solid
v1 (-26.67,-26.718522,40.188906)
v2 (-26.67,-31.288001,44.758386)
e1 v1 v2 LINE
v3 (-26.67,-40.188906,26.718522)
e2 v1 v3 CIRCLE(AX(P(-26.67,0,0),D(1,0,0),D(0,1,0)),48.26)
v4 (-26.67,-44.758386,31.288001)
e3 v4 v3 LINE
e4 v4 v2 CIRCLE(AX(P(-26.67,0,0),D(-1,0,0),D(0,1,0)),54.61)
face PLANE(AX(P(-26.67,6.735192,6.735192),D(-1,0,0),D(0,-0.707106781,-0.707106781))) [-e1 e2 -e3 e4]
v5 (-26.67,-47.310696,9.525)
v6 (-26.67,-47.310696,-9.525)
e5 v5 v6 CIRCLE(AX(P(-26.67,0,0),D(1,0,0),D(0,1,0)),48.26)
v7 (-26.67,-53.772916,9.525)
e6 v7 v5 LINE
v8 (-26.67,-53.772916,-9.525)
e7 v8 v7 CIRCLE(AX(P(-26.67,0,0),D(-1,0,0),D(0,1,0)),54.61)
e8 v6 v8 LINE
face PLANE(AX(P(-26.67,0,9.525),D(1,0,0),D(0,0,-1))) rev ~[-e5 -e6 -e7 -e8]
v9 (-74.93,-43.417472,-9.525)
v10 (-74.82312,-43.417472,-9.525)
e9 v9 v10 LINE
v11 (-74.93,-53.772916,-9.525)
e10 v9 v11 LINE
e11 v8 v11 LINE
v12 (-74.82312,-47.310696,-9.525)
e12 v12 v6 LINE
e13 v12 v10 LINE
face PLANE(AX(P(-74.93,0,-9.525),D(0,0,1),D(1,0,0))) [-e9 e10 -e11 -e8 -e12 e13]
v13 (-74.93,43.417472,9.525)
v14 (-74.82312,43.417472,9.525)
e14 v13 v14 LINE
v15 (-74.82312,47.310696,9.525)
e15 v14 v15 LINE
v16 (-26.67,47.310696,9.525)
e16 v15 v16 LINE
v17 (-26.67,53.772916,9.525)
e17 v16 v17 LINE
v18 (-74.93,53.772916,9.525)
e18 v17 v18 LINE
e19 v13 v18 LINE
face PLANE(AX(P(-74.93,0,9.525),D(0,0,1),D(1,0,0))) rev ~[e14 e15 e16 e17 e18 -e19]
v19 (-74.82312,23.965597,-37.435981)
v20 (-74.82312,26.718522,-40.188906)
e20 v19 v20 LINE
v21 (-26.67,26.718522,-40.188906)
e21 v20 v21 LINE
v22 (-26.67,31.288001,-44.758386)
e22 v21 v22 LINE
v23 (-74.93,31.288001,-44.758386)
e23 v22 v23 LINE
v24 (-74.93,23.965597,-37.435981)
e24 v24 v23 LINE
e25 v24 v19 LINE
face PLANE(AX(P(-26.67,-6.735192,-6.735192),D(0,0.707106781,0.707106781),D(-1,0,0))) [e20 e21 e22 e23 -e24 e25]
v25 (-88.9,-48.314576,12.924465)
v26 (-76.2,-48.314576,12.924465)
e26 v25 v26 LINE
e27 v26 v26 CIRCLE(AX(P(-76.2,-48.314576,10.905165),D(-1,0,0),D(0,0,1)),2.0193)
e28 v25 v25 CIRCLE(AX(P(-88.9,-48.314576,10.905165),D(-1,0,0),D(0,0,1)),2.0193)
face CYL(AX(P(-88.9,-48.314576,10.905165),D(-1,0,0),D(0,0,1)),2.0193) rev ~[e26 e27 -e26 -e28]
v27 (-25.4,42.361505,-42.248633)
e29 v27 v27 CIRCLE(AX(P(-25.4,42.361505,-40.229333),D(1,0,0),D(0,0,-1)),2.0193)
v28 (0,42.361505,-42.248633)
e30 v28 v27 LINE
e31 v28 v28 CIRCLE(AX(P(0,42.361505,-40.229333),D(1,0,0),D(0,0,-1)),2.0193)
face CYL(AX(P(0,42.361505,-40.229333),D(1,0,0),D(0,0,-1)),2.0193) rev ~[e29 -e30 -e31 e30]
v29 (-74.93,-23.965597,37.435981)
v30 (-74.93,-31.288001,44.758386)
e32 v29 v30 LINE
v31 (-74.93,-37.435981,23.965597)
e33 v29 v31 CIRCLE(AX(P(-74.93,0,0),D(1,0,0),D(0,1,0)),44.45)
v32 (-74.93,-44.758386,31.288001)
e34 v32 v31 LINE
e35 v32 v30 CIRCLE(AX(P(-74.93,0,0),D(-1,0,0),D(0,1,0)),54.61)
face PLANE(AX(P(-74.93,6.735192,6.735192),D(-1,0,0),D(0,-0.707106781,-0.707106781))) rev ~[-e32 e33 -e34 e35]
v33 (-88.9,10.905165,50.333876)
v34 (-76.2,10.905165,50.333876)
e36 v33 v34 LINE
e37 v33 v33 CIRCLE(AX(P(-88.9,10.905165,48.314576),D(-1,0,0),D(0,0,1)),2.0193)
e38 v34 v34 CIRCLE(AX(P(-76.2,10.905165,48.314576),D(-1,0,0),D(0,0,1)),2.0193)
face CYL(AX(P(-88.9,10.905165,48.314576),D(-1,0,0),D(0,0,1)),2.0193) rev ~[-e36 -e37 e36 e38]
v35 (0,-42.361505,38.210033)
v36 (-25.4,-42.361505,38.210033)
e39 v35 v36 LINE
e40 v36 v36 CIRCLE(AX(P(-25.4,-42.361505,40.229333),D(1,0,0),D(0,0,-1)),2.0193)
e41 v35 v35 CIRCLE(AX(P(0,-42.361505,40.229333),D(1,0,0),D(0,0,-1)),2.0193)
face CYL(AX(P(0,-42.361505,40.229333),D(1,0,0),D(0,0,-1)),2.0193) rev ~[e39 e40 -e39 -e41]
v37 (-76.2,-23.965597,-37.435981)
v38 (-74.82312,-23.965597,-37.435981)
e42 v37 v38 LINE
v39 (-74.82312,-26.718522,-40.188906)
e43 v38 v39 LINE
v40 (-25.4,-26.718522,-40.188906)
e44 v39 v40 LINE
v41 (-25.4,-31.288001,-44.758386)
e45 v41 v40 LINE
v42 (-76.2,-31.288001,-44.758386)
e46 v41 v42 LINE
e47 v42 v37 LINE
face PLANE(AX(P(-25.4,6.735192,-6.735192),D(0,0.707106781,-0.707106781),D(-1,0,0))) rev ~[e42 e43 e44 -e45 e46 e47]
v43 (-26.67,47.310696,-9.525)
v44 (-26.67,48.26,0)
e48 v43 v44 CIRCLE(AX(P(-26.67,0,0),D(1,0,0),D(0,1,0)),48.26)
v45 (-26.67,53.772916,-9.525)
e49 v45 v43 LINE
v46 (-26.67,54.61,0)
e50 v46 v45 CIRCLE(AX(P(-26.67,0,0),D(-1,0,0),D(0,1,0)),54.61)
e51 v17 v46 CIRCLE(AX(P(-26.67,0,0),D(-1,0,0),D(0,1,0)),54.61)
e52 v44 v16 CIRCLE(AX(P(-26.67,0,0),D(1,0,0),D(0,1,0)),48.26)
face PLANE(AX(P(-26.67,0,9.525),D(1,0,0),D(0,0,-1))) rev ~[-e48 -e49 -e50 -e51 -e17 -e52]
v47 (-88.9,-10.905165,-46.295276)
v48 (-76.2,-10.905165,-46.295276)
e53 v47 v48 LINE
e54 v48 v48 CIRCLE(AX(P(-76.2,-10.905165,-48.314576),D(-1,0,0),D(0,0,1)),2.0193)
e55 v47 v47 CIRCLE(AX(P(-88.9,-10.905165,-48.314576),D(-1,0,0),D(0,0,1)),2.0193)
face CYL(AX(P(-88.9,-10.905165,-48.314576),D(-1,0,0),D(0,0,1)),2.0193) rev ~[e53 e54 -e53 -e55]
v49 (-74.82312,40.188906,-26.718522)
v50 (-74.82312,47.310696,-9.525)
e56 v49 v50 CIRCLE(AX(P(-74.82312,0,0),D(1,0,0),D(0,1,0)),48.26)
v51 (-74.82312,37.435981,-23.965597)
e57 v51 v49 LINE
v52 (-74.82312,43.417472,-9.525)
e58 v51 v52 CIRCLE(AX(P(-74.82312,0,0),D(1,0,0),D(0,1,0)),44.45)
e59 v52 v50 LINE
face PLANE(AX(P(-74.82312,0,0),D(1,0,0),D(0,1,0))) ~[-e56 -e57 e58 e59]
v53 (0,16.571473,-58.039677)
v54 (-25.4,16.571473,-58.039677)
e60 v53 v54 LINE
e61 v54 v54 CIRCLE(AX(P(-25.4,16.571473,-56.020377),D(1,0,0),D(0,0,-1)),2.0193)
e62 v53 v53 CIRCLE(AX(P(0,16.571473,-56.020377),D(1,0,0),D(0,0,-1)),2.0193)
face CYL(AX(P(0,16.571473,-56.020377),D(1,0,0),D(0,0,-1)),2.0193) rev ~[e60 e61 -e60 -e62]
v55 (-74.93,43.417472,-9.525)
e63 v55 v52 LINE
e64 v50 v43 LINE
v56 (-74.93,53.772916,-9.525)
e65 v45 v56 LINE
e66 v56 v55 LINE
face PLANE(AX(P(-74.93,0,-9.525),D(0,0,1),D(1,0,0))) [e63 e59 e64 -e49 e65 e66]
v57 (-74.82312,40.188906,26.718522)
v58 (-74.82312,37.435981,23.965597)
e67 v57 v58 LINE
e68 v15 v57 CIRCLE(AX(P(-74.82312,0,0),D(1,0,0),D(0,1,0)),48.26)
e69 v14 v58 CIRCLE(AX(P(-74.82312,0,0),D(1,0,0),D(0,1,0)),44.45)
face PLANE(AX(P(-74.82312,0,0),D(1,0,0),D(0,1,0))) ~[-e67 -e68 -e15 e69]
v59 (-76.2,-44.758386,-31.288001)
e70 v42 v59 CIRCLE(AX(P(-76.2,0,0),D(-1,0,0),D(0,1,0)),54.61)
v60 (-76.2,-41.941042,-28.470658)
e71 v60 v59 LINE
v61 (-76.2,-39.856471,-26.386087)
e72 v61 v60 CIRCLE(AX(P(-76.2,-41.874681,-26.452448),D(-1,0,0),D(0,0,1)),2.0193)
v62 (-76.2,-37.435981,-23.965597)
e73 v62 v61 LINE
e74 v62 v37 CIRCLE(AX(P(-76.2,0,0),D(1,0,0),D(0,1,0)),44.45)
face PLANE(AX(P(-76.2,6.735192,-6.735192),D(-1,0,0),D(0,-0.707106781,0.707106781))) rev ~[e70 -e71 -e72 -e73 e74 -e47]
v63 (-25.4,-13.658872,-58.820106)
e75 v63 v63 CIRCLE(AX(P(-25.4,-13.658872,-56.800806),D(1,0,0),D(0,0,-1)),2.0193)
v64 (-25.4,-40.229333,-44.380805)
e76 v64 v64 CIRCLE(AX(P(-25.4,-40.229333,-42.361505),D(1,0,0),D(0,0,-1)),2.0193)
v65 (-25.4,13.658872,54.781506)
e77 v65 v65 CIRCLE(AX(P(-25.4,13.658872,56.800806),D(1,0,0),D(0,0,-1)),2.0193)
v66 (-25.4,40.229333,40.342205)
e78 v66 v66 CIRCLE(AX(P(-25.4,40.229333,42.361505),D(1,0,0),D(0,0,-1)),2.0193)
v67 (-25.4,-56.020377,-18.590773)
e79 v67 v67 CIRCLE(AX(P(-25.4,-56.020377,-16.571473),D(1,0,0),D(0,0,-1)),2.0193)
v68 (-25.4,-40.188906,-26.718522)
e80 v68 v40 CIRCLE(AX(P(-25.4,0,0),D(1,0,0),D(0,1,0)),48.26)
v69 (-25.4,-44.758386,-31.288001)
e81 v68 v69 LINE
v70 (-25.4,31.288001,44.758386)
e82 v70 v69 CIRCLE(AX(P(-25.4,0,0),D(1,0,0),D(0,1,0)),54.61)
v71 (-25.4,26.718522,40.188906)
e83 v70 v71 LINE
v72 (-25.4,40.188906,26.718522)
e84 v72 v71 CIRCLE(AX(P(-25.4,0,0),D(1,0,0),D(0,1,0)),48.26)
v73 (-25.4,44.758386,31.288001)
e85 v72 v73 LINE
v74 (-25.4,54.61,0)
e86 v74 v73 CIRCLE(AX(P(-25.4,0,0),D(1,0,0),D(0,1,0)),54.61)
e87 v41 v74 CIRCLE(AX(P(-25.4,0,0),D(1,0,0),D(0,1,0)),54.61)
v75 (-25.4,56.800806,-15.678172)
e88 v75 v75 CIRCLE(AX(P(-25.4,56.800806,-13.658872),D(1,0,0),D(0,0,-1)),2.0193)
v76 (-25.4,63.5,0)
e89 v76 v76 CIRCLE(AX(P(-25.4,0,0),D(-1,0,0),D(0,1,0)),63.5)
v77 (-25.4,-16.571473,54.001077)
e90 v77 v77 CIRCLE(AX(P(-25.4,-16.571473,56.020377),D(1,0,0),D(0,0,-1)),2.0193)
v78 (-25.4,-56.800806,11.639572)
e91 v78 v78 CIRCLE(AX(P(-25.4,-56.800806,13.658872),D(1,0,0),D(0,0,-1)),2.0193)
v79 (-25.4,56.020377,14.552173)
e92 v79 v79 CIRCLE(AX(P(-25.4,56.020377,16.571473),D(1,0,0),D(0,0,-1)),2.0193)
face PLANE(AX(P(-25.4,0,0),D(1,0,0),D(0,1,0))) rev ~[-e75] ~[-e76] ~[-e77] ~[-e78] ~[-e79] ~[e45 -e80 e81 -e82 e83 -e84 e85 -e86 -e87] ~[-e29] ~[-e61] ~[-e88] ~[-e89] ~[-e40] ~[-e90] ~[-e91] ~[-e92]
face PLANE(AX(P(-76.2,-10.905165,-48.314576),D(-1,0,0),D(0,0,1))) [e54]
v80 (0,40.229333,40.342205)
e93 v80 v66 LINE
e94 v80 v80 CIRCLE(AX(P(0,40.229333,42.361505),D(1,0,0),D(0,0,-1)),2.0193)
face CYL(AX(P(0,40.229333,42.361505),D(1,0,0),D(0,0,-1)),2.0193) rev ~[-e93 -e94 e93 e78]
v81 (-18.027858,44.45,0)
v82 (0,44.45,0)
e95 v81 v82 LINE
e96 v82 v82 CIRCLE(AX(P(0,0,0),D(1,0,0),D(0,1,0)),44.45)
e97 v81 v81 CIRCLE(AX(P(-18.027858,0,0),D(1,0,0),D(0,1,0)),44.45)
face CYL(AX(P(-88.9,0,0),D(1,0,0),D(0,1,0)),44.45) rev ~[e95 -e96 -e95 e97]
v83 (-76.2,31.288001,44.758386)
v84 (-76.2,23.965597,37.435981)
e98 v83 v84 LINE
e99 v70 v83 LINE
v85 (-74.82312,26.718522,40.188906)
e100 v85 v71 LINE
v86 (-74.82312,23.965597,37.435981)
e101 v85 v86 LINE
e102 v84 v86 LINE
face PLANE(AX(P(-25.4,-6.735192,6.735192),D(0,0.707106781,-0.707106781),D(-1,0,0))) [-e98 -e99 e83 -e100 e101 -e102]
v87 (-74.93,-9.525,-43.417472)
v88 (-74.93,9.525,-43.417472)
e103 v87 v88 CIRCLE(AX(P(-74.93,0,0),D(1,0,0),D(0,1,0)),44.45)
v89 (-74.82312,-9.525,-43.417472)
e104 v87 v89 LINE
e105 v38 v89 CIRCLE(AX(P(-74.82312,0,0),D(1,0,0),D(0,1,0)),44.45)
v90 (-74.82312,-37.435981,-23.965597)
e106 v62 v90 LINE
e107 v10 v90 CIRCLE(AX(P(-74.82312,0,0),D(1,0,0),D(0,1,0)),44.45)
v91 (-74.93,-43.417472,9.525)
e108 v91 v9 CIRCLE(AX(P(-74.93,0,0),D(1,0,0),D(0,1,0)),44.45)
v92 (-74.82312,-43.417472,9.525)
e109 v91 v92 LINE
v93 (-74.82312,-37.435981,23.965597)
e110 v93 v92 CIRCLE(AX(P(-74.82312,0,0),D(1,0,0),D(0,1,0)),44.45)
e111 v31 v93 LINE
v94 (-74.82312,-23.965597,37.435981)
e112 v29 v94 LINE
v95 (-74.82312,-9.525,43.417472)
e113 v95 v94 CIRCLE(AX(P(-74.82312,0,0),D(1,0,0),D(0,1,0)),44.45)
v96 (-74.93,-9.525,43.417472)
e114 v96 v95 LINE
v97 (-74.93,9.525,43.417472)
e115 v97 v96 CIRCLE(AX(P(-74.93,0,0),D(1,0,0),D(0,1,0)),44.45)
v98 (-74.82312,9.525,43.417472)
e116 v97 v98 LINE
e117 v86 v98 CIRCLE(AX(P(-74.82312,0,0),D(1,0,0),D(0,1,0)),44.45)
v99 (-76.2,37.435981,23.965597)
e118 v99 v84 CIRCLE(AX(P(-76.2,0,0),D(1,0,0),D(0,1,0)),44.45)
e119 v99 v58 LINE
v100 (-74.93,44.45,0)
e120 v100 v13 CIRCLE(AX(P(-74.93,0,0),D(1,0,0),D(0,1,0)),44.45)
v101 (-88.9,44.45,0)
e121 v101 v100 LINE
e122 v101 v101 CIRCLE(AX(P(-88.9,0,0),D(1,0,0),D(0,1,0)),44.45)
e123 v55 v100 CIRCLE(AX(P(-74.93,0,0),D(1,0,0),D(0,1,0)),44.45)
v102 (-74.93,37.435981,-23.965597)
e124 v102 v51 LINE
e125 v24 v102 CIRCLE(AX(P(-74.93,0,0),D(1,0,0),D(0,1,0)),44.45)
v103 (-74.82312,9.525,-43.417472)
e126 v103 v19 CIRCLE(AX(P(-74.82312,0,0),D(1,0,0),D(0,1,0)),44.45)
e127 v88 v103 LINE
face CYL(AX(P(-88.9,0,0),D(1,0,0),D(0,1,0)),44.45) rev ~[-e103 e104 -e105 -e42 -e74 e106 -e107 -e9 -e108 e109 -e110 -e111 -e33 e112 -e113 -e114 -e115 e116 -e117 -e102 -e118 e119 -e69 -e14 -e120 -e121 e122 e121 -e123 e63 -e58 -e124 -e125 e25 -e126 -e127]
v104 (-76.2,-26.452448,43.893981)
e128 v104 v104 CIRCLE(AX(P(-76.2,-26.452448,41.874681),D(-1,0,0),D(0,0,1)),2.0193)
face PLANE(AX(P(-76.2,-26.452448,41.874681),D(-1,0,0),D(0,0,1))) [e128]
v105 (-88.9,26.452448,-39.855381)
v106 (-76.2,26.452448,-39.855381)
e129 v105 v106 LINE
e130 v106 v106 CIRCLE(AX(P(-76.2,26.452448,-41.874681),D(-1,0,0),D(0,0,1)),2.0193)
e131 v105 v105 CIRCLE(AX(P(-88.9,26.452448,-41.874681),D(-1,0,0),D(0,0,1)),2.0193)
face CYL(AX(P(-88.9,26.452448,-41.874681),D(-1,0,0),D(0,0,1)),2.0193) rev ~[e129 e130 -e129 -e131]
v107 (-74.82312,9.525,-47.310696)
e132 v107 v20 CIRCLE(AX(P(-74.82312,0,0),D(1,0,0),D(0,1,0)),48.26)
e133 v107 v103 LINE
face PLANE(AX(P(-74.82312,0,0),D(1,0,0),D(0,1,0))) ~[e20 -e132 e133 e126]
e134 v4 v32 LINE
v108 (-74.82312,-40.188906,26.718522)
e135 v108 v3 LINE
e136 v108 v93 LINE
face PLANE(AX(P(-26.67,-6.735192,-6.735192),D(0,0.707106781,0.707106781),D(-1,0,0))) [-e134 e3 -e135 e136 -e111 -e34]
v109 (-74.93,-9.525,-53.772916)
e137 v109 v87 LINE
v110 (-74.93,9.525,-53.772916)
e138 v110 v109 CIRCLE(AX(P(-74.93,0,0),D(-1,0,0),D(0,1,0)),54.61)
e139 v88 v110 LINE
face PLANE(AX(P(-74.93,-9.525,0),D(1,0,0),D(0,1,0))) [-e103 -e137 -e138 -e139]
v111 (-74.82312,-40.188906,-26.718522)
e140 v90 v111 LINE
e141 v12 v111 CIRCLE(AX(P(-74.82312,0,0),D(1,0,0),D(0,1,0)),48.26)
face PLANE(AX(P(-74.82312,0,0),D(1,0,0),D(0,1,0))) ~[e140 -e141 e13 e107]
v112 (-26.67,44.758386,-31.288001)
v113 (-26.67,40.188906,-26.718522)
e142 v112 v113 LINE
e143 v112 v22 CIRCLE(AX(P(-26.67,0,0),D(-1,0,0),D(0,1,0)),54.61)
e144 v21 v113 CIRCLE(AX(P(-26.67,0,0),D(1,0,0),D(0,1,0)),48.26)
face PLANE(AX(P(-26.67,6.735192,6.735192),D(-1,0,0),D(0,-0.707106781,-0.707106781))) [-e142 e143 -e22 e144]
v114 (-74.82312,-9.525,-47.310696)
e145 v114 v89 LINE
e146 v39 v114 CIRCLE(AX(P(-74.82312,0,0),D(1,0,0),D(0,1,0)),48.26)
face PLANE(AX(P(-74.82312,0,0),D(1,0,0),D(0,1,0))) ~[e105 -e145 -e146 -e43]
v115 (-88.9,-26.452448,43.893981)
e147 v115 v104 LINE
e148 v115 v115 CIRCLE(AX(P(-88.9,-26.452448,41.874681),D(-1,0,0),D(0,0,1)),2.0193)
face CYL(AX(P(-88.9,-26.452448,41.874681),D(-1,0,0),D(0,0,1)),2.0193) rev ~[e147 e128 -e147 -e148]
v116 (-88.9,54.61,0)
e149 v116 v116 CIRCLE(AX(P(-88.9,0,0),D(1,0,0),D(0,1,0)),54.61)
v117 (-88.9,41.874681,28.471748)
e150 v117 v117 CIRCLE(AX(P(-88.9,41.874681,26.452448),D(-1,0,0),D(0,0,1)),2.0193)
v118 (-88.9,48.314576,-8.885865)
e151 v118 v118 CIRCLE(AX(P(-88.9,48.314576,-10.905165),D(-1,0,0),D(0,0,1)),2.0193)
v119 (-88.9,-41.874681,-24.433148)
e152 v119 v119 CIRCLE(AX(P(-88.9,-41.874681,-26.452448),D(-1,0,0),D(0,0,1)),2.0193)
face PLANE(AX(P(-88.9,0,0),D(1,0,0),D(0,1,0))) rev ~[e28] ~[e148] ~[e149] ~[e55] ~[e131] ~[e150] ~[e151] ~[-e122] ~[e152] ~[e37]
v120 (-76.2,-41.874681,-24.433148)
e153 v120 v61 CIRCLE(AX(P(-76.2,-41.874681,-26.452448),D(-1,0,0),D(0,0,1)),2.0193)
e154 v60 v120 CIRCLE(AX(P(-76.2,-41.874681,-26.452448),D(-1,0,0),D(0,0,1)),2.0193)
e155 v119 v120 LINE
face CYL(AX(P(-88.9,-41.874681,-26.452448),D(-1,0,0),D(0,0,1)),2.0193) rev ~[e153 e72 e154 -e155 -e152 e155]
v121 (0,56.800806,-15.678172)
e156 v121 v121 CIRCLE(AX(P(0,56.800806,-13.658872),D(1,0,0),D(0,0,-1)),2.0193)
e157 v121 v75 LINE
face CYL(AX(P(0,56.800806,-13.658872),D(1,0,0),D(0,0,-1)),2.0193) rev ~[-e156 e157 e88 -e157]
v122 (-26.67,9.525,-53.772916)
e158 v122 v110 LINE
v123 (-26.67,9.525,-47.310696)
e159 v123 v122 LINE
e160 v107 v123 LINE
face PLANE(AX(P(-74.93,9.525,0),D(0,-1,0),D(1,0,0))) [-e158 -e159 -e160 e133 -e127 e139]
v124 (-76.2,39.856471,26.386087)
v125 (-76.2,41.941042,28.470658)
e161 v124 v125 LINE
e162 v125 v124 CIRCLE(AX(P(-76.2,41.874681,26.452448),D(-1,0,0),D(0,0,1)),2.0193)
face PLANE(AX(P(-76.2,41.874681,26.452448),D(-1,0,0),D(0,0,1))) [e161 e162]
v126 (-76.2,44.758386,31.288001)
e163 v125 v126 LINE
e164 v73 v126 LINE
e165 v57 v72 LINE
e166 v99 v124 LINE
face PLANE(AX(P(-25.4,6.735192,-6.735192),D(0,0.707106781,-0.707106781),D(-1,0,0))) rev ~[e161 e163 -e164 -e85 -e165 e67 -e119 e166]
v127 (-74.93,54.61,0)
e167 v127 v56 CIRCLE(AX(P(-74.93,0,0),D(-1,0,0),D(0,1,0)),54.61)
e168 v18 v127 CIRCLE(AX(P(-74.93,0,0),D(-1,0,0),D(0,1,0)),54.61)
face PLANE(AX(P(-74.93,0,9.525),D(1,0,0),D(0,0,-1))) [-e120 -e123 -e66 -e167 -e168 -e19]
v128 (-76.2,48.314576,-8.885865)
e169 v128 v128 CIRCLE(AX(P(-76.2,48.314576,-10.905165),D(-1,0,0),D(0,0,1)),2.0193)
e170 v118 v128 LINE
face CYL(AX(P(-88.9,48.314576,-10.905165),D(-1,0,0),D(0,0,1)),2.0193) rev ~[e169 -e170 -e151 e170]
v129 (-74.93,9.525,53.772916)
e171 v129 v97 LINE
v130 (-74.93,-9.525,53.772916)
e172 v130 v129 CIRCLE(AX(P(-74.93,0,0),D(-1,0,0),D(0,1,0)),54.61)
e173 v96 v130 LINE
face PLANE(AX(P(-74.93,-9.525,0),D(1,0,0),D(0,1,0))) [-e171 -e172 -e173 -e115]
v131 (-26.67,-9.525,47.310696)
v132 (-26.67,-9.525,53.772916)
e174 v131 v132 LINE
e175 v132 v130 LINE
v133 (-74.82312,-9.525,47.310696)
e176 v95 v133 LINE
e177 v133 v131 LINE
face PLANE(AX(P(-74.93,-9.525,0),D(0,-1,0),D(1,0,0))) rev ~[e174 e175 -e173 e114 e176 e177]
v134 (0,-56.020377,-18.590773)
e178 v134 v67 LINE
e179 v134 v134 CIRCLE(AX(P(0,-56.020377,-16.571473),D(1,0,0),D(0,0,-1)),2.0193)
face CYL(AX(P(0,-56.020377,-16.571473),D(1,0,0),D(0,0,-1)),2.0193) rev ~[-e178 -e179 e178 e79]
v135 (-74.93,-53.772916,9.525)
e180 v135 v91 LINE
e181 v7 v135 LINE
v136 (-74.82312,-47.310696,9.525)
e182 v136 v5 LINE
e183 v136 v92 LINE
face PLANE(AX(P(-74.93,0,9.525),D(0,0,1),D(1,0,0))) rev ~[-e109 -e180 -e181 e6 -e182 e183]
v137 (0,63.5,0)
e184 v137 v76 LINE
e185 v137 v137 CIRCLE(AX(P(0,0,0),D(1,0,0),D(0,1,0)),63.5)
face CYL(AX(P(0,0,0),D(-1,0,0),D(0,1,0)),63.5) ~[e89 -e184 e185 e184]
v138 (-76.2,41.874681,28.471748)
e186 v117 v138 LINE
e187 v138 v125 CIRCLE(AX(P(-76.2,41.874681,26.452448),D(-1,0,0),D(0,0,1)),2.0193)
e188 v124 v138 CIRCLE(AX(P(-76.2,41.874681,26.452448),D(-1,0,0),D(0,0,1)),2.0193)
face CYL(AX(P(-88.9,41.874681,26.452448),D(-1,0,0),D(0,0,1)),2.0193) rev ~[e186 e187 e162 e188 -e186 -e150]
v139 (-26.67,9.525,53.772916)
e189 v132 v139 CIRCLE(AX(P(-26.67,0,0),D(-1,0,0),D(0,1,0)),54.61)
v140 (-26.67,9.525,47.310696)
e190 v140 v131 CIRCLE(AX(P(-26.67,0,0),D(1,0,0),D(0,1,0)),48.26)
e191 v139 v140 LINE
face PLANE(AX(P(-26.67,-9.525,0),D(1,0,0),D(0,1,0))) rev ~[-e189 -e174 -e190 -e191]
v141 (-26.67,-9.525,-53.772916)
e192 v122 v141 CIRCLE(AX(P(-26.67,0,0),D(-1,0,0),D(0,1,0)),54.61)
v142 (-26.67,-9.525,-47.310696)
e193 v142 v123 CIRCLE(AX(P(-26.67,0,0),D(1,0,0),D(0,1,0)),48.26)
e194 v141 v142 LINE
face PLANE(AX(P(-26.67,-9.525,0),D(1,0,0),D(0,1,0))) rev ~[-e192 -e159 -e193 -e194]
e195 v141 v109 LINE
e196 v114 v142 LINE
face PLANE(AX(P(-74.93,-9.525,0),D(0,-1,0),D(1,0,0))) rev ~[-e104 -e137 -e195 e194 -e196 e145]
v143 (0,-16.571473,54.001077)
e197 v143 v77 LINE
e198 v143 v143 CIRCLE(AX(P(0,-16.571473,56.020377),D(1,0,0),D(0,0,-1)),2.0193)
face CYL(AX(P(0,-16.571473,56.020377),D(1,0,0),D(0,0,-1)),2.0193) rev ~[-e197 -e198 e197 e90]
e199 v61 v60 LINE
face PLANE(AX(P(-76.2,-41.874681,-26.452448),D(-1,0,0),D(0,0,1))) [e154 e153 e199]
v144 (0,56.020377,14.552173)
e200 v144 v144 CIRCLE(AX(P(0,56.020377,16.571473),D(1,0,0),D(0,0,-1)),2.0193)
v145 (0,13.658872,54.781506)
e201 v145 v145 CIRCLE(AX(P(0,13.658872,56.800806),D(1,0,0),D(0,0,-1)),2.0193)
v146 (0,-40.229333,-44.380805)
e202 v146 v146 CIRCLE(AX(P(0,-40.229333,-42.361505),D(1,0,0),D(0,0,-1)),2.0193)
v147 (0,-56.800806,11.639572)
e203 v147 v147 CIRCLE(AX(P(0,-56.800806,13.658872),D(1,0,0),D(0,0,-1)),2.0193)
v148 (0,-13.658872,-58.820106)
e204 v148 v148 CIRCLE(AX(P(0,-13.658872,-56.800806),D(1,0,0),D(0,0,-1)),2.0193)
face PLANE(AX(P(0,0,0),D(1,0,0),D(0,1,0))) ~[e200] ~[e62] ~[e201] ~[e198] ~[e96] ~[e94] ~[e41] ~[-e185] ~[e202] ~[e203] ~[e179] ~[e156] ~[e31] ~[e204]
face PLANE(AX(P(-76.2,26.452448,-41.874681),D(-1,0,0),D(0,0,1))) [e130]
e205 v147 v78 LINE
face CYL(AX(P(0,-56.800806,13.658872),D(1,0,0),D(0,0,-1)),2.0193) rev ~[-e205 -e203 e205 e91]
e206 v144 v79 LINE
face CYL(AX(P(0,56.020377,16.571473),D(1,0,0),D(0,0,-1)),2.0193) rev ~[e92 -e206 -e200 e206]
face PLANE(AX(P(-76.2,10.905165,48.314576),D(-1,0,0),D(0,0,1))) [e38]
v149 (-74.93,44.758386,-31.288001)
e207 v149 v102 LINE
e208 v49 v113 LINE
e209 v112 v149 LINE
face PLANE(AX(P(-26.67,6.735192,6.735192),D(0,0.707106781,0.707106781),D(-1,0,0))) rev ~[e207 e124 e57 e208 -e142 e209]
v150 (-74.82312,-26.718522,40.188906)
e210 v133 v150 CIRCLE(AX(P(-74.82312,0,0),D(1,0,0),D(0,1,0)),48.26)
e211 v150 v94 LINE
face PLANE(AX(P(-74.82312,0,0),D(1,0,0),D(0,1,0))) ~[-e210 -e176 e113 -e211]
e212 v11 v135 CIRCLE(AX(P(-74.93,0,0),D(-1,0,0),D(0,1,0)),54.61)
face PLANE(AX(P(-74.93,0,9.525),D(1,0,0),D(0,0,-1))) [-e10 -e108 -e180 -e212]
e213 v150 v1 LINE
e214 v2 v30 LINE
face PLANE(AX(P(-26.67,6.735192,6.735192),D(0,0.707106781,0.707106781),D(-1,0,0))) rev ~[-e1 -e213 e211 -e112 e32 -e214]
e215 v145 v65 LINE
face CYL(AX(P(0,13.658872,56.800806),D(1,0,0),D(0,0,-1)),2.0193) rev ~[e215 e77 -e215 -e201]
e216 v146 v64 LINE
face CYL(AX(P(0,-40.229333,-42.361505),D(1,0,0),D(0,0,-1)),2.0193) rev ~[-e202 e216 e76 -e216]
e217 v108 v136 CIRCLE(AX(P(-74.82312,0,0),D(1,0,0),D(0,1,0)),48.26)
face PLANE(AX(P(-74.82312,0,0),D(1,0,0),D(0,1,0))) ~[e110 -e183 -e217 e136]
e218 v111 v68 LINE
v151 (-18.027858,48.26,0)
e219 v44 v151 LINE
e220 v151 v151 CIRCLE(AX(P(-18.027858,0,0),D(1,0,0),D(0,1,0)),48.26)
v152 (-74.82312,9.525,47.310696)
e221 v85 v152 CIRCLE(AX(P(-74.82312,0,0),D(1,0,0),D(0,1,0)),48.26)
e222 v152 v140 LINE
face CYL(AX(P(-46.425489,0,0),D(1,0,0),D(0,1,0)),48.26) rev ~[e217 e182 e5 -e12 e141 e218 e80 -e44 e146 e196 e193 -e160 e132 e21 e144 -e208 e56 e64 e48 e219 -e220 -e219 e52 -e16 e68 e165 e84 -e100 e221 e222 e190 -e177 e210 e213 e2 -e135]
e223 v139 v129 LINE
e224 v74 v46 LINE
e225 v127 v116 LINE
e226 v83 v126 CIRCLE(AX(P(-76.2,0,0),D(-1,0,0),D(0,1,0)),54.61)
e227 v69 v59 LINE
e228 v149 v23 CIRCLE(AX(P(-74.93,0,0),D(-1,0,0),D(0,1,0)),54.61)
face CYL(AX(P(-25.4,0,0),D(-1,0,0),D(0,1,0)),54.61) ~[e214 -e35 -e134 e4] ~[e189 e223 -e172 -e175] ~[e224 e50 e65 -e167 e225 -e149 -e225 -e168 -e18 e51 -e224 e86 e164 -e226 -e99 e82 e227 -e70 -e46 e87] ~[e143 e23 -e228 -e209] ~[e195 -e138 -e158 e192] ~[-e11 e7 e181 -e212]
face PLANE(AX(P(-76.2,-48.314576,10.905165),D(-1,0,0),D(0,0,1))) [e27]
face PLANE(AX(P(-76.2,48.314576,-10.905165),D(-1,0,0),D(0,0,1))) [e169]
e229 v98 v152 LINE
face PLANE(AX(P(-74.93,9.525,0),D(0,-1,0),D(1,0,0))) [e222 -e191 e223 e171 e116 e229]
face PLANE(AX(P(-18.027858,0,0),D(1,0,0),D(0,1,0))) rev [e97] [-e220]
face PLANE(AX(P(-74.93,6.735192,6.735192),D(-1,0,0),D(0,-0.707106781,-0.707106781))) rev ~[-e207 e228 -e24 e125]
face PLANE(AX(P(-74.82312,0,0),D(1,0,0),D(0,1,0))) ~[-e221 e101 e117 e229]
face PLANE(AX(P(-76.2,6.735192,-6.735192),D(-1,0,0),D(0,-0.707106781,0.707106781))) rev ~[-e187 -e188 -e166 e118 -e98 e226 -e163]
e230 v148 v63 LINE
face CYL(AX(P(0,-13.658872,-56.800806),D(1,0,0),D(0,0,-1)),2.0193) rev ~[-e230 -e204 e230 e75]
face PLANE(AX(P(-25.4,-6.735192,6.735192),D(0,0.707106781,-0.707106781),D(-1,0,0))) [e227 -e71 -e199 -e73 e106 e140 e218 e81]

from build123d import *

# Parameters (mm, degrees)
UPPER_BOLT_HOLES_REACH  = 128.363
SKETCH4_R               = 2.0193
SKETCH6_R               = 2.0193
LOWER_BOLT_HOLES_DEPTH  = 12.7
SKETCH7_W               = 56.79526179
SKETCH7_H               = 3.81
SKETCH8_W               = 48.26
SKETCH8_H               = 19.05
SIDEWALL_CUTOUT_1_DEPTH = 76.2
SKETCH10_W              = 48.26
SKETCH10_H              = 19.05
SIDEWALL_CUTOUT_2_DEPTH = 76.2
SKETCH11_W              = 50.8
SKETCH11_H              = 19.05
SIDEWALL_CUTOUT_3_DEPTH = 76.2
SKETCH13_W              = 48.26
SKETCH13_H              = 19.05
SIDEWALL_CUTOUT_4_DEPTH = 76.2


with BuildPart() as part:
    # Sketch1 → Revolve1 (revolve)
    with BuildSketch(Plane.XY):
        Polygon((-88.9, 54.61), (-88.9, 44.45), (0, 44.45), (0, 63.5), (-25.4, 63.5), (-25.4, 54.61), align=None)
    revolve(axis=Axis((-87.283636364, 0, 0), (1, 0, 0)))

    # Sketch4 → Upper Bolt Holes (cut, up to next)
    with BuildSketch(Plane(origin=(0, 0, 0), x_dir=(0, 0, -1), z_dir=(1, 0, 0)), mode=Mode.PRIVATE) as upper_bolt_holes_sk1:
        with Locations((56.020377392, 16.571472984)):
            Circle(SKETCH4_R)
    upper_bolt_holes_tool1 = extrude(upper_bolt_holes_sk1.sketch, amount=-UPPER_BOLT_HOLES_REACH, mode=Mode.PRIVATE) & part.part
    # Sketch4 → Upper Bolt Holes (cut, up to next)
    with BuildSketch(Plane(origin=(0, 0, 0), x_dir=(0, 0, -1), z_dir=(1, 0, 0)), mode=Mode.PRIVATE) as upper_bolt_holes_sk2:
        with Locations((56.800806443, -13.658872113)):
            Circle(SKETCH4_R)
    upper_bolt_holes_tool2 = extrude(upper_bolt_holes_sk2.sketch, amount=-UPPER_BOLT_HOLES_REACH, mode=Mode.PRIVATE) & part.part
    # Sketch4 → Upper Bolt Holes (cut, up to next)
    with BuildSketch(Plane(origin=(0, 0, 0), x_dir=(0, 0, -1), z_dir=(1, 0, 0)), mode=Mode.PRIVATE) as upper_bolt_holes_sk3:
        with Locations((42.361505278, -40.229333459)):
            Circle(SKETCH4_R)
    upper_bolt_holes_tool3 = extrude(upper_bolt_holes_sk3.sketch, amount=-UPPER_BOLT_HOLES_REACH, mode=Mode.PRIVATE) & part.part
    # Sketch4 → Upper Bolt Holes (cut, up to next)
    with BuildSketch(Plane(origin=(0, 0, 0), x_dir=(0, 0, -1), z_dir=(1, 0, 0)), mode=Mode.PRIVATE) as upper_bolt_holes_sk4:
        with Locations((16.571472984, -56.020377392)):
            Circle(SKETCH4_R)
    upper_bolt_holes_tool4 = extrude(upper_bolt_holes_sk4.sketch, amount=-UPPER_BOLT_HOLES_REACH, mode=Mode.PRIVATE) & part.part
    # Sketch4 → Upper Bolt Holes (cut, up to next)
    with BuildSketch(Plane(origin=(0, 0, 0), x_dir=(0, 0, -1), z_dir=(1, 0, 0)), mode=Mode.PRIVATE) as upper_bolt_holes_sk5:
        with Locations((-13.658872113, -56.800806443)):
            Circle(SKETCH4_R)
    upper_bolt_holes_tool5 = extrude(upper_bolt_holes_sk5.sketch, amount=-UPPER_BOLT_HOLES_REACH, mode=Mode.PRIVATE) & part.part
    # Sketch4 → Upper Bolt Holes (cut, up to next)
    with BuildSketch(Plane(origin=(0, 0, 0), x_dir=(0, 0, -1), z_dir=(1, 0, 0)), mode=Mode.PRIVATE) as upper_bolt_holes_sk6:
        with Locations((-40.229333459, -42.361505278)):
            Circle(SKETCH4_R)
    upper_bolt_holes_tool6 = extrude(upper_bolt_holes_sk6.sketch, amount=-UPPER_BOLT_HOLES_REACH, mode=Mode.PRIVATE) & part.part
    # Sketch4 → Upper Bolt Holes (cut, up to next)
    with BuildSketch(Plane(origin=(0, 0, 0), x_dir=(0, 0, -1), z_dir=(1, 0, 0)), mode=Mode.PRIVATE) as upper_bolt_holes_sk7:
        with Locations((-56.020377392, -16.571472984)):
            Circle(SKETCH4_R)
    upper_bolt_holes_tool7 = extrude(upper_bolt_holes_sk7.sketch, amount=-UPPER_BOLT_HOLES_REACH, mode=Mode.PRIVATE) & part.part
    # Sketch4 → Upper Bolt Holes (cut, up to next)
    with BuildSketch(Plane(origin=(0, 0, 0), x_dir=(0, 0, -1), z_dir=(1, 0, 0)), mode=Mode.PRIVATE) as upper_bolt_holes_sk8:
        with Locations((-56.800806443, 13.658872113)):
            Circle(SKETCH4_R)
    upper_bolt_holes_tool8 = extrude(upper_bolt_holes_sk8.sketch, amount=-UPPER_BOLT_HOLES_REACH, mode=Mode.PRIVATE) & part.part
    # Sketch4 → Upper Bolt Holes (cut, up to next)
    with BuildSketch(Plane(origin=(0, 0, 0), x_dir=(0, 0, -1), z_dir=(1, 0, 0)), mode=Mode.PRIVATE) as upper_bolt_holes_sk9:
        with Locations((40.229333459, 42.361505278)):
            Circle(SKETCH4_R)
    upper_bolt_holes_tool9 = extrude(upper_bolt_holes_sk9.sketch, amount=-UPPER_BOLT_HOLES_REACH, mode=Mode.PRIVATE) & part.part
    # Sketch4 → Upper Bolt Holes (cut, up to next)
    with BuildSketch(Plane(origin=(0, 0, 0), x_dir=(0, 0, -1), z_dir=(1, 0, 0)), mode=Mode.PRIVATE) as upper_bolt_holes_sk10:
        with Locations((13.658872113, 56.800806443)):
            Circle(SKETCH4_R)
    upper_bolt_holes_tool10 = extrude(upper_bolt_holes_sk10.sketch, amount=-UPPER_BOLT_HOLES_REACH, mode=Mode.PRIVATE) & part.part
    # Sketch4 → Upper Bolt Holes (cut, up to next)
    with BuildSketch(Plane(origin=(0, 0, 0), x_dir=(0, 0, -1), z_dir=(1, 0, 0)), mode=Mode.PRIVATE) as upper_bolt_holes_sk11:
        with Locations((-16.571472984, 56.020377392)):
            Circle(SKETCH4_R)
    upper_bolt_holes_tool11 = extrude(upper_bolt_holes_sk11.sketch, amount=-UPPER_BOLT_HOLES_REACH, mode=Mode.PRIVATE) & part.part
    # Sketch4 → Upper Bolt Holes (cut, up to next)
    with BuildSketch(Plane(origin=(0, 0, 0), x_dir=(0, 0, -1), z_dir=(1, 0, 0)), mode=Mode.PRIVATE) as upper_bolt_holes_sk12:
        with Locations((-42.361505278, 40.229333459)):
            Circle(SKETCH4_R)
    upper_bolt_holes_tool12 = extrude(upper_bolt_holes_sk12.sketch, amount=-UPPER_BOLT_HOLES_REACH, mode=Mode.PRIVATE) & part.part
    add(upper_bolt_holes_tool1.solids().sort_by_distance((0, 16.571473, -56.020377))[0], mode=Mode.SUBTRACT)
    add(upper_bolt_holes_tool2.solids().sort_by_distance((0, -13.658872, -56.800806))[0], mode=Mode.SUBTRACT)
    add(upper_bolt_holes_tool3.solids().sort_by_distance((0, -40.229333, -42.361505))[0], mode=Mode.SUBTRACT)
    add(upper_bolt_holes_tool4.solids().sort_by_distance((0, -56.020377, -16.571473))[0], mode=Mode.SUBTRACT)
    add(upper_bolt_holes_tool5.solids().sort_by_distance((0, -56.800806, 13.658872))[0], mode=Mode.SUBTRACT)
    add(upper_bolt_holes_tool6.solids().sort_by_distance((0, -42.361505, 40.229333))[0], mode=Mode.SUBTRACT)
    add(upper_bolt_holes_tool7.solids().sort_by_distance((0, -16.571473, 56.020377))[0], mode=Mode.SUBTRACT)
    add(upper_bolt_holes_tool8.solids().sort_by_distance((0, 13.658872, 56.800806))[0], mode=Mode.SUBTRACT)
    add(upper_bolt_holes_tool9.solids().sort_by_distance((0, 42.361505, -40.229333))[0], mode=Mode.SUBTRACT)
    add(upper_bolt_holes_tool10.solids().sort_by_distance((0, 56.800806, -13.658872))[0], mode=Mode.SUBTRACT)
    add(upper_bolt_holes_tool11.solids().sort_by_distance((0, 56.020377, 16.571473))[0], mode=Mode.SUBTRACT)
    add(upper_bolt_holes_tool12.solids().sort_by_distance((0, 40.229333, 42.361505))[0], mode=Mode.SUBTRACT)

    # Sketch6 → Lower Bolt Holes (cut)
    with BuildSketch(Plane.ZY.offset(88.9)):
        with Locations((-10.905164891, 48.314576255)):
            Circle(SKETCH6_R)
        with Locations((26.452448456, 41.874680544)):
            Circle(SKETCH6_R)
        with Locations((48.314576255, 10.905164891)):
            Circle(SKETCH6_R)
        with Locations((41.874680544, -26.452448456)):
            Circle(SKETCH6_R)
        with Locations((10.905164891, -48.314576255)):
            Circle(SKETCH6_R)
        with Locations((-26.452448456, -41.874680544)):
            Circle(SKETCH6_R)
        with Locations((-48.314576255, -10.905164891)):
            Circle(SKETCH6_R)
        with Locations((-41.874680544, 26.452448456)):
            Circle(SKETCH6_R)
    extrude(amount=-LOWER_BOLT_HOLES_DEPTH, mode=Mode.SUBTRACT)

    # Sketch7 → 0.15in Depth Air Gap (revolve, cut)
    with BuildSketch(Plane.XY):
        with Locations((-46.425488876, 46.355)):
            Rectangle(SKETCH7_W, SKETCH7_H)
    revolve(axis=Axis((-102.668560336, 0, 0), (1, 0, 0)), mode=Mode.SUBTRACT)

    # Sketch8 → SideWall Cutout 1 (cut, symmetric)
    with BuildSketch(Plane(origin=(0, 0, 0), x_dir=(1, 0, 0), z_dir=(0, 1, 0))):
        with Locations((-50.8, 0)):
            Rectangle(SKETCH8_W, SKETCH8_H)
    extrude(amount=SIDEWALL_CUTOUT_1_DEPTH, both=True, mode=Mode.SUBTRACT)

    # Sketch10 → SideWall Cutout 2 (cut, symmetric)
    with BuildSketch(Plane.XY):
        with Locations((-50.8, 0)):
            Rectangle(SKETCH10_W, SKETCH10_H)
    extrude(amount=SIDEWALL_CUTOUT_2_DEPTH, both=True, mode=Mode.SUBTRACT)

    # Sketch11 → SideWall Cutout 3 (cut, symmetric)
    with BuildSketch(Plane(origin=(0, 0, 0), x_dir=(-1, 0, 0), z_dir=(0, 0.7071067811865488, 0.7071067811865464))):
        with Locations((50.8, 0)):
            Rectangle(SKETCH11_W, SKETCH11_H)
    extrude(amount=SIDEWALL_CUTOUT_3_DEPTH, both=True, mode=Mode.SUBTRACT)

    # Sketch13 → SideWall Cutout 4 (cut, symmetric)
    with BuildSketch(Plane(origin=(0, 0, 0), x_dir=(-1, 0, 0), z_dir=(0, -0.7071067811865488, 0.7071067811865464))):
        with Locations((50.8, 0)):
            Rectangle(SKETCH13_W, SKETCH13_H)
    extrude(amount=SIDEWALL_CUTOUT_4_DEPTH, both=True, mode=Mode.SUBTRACT)


solid = part.part
